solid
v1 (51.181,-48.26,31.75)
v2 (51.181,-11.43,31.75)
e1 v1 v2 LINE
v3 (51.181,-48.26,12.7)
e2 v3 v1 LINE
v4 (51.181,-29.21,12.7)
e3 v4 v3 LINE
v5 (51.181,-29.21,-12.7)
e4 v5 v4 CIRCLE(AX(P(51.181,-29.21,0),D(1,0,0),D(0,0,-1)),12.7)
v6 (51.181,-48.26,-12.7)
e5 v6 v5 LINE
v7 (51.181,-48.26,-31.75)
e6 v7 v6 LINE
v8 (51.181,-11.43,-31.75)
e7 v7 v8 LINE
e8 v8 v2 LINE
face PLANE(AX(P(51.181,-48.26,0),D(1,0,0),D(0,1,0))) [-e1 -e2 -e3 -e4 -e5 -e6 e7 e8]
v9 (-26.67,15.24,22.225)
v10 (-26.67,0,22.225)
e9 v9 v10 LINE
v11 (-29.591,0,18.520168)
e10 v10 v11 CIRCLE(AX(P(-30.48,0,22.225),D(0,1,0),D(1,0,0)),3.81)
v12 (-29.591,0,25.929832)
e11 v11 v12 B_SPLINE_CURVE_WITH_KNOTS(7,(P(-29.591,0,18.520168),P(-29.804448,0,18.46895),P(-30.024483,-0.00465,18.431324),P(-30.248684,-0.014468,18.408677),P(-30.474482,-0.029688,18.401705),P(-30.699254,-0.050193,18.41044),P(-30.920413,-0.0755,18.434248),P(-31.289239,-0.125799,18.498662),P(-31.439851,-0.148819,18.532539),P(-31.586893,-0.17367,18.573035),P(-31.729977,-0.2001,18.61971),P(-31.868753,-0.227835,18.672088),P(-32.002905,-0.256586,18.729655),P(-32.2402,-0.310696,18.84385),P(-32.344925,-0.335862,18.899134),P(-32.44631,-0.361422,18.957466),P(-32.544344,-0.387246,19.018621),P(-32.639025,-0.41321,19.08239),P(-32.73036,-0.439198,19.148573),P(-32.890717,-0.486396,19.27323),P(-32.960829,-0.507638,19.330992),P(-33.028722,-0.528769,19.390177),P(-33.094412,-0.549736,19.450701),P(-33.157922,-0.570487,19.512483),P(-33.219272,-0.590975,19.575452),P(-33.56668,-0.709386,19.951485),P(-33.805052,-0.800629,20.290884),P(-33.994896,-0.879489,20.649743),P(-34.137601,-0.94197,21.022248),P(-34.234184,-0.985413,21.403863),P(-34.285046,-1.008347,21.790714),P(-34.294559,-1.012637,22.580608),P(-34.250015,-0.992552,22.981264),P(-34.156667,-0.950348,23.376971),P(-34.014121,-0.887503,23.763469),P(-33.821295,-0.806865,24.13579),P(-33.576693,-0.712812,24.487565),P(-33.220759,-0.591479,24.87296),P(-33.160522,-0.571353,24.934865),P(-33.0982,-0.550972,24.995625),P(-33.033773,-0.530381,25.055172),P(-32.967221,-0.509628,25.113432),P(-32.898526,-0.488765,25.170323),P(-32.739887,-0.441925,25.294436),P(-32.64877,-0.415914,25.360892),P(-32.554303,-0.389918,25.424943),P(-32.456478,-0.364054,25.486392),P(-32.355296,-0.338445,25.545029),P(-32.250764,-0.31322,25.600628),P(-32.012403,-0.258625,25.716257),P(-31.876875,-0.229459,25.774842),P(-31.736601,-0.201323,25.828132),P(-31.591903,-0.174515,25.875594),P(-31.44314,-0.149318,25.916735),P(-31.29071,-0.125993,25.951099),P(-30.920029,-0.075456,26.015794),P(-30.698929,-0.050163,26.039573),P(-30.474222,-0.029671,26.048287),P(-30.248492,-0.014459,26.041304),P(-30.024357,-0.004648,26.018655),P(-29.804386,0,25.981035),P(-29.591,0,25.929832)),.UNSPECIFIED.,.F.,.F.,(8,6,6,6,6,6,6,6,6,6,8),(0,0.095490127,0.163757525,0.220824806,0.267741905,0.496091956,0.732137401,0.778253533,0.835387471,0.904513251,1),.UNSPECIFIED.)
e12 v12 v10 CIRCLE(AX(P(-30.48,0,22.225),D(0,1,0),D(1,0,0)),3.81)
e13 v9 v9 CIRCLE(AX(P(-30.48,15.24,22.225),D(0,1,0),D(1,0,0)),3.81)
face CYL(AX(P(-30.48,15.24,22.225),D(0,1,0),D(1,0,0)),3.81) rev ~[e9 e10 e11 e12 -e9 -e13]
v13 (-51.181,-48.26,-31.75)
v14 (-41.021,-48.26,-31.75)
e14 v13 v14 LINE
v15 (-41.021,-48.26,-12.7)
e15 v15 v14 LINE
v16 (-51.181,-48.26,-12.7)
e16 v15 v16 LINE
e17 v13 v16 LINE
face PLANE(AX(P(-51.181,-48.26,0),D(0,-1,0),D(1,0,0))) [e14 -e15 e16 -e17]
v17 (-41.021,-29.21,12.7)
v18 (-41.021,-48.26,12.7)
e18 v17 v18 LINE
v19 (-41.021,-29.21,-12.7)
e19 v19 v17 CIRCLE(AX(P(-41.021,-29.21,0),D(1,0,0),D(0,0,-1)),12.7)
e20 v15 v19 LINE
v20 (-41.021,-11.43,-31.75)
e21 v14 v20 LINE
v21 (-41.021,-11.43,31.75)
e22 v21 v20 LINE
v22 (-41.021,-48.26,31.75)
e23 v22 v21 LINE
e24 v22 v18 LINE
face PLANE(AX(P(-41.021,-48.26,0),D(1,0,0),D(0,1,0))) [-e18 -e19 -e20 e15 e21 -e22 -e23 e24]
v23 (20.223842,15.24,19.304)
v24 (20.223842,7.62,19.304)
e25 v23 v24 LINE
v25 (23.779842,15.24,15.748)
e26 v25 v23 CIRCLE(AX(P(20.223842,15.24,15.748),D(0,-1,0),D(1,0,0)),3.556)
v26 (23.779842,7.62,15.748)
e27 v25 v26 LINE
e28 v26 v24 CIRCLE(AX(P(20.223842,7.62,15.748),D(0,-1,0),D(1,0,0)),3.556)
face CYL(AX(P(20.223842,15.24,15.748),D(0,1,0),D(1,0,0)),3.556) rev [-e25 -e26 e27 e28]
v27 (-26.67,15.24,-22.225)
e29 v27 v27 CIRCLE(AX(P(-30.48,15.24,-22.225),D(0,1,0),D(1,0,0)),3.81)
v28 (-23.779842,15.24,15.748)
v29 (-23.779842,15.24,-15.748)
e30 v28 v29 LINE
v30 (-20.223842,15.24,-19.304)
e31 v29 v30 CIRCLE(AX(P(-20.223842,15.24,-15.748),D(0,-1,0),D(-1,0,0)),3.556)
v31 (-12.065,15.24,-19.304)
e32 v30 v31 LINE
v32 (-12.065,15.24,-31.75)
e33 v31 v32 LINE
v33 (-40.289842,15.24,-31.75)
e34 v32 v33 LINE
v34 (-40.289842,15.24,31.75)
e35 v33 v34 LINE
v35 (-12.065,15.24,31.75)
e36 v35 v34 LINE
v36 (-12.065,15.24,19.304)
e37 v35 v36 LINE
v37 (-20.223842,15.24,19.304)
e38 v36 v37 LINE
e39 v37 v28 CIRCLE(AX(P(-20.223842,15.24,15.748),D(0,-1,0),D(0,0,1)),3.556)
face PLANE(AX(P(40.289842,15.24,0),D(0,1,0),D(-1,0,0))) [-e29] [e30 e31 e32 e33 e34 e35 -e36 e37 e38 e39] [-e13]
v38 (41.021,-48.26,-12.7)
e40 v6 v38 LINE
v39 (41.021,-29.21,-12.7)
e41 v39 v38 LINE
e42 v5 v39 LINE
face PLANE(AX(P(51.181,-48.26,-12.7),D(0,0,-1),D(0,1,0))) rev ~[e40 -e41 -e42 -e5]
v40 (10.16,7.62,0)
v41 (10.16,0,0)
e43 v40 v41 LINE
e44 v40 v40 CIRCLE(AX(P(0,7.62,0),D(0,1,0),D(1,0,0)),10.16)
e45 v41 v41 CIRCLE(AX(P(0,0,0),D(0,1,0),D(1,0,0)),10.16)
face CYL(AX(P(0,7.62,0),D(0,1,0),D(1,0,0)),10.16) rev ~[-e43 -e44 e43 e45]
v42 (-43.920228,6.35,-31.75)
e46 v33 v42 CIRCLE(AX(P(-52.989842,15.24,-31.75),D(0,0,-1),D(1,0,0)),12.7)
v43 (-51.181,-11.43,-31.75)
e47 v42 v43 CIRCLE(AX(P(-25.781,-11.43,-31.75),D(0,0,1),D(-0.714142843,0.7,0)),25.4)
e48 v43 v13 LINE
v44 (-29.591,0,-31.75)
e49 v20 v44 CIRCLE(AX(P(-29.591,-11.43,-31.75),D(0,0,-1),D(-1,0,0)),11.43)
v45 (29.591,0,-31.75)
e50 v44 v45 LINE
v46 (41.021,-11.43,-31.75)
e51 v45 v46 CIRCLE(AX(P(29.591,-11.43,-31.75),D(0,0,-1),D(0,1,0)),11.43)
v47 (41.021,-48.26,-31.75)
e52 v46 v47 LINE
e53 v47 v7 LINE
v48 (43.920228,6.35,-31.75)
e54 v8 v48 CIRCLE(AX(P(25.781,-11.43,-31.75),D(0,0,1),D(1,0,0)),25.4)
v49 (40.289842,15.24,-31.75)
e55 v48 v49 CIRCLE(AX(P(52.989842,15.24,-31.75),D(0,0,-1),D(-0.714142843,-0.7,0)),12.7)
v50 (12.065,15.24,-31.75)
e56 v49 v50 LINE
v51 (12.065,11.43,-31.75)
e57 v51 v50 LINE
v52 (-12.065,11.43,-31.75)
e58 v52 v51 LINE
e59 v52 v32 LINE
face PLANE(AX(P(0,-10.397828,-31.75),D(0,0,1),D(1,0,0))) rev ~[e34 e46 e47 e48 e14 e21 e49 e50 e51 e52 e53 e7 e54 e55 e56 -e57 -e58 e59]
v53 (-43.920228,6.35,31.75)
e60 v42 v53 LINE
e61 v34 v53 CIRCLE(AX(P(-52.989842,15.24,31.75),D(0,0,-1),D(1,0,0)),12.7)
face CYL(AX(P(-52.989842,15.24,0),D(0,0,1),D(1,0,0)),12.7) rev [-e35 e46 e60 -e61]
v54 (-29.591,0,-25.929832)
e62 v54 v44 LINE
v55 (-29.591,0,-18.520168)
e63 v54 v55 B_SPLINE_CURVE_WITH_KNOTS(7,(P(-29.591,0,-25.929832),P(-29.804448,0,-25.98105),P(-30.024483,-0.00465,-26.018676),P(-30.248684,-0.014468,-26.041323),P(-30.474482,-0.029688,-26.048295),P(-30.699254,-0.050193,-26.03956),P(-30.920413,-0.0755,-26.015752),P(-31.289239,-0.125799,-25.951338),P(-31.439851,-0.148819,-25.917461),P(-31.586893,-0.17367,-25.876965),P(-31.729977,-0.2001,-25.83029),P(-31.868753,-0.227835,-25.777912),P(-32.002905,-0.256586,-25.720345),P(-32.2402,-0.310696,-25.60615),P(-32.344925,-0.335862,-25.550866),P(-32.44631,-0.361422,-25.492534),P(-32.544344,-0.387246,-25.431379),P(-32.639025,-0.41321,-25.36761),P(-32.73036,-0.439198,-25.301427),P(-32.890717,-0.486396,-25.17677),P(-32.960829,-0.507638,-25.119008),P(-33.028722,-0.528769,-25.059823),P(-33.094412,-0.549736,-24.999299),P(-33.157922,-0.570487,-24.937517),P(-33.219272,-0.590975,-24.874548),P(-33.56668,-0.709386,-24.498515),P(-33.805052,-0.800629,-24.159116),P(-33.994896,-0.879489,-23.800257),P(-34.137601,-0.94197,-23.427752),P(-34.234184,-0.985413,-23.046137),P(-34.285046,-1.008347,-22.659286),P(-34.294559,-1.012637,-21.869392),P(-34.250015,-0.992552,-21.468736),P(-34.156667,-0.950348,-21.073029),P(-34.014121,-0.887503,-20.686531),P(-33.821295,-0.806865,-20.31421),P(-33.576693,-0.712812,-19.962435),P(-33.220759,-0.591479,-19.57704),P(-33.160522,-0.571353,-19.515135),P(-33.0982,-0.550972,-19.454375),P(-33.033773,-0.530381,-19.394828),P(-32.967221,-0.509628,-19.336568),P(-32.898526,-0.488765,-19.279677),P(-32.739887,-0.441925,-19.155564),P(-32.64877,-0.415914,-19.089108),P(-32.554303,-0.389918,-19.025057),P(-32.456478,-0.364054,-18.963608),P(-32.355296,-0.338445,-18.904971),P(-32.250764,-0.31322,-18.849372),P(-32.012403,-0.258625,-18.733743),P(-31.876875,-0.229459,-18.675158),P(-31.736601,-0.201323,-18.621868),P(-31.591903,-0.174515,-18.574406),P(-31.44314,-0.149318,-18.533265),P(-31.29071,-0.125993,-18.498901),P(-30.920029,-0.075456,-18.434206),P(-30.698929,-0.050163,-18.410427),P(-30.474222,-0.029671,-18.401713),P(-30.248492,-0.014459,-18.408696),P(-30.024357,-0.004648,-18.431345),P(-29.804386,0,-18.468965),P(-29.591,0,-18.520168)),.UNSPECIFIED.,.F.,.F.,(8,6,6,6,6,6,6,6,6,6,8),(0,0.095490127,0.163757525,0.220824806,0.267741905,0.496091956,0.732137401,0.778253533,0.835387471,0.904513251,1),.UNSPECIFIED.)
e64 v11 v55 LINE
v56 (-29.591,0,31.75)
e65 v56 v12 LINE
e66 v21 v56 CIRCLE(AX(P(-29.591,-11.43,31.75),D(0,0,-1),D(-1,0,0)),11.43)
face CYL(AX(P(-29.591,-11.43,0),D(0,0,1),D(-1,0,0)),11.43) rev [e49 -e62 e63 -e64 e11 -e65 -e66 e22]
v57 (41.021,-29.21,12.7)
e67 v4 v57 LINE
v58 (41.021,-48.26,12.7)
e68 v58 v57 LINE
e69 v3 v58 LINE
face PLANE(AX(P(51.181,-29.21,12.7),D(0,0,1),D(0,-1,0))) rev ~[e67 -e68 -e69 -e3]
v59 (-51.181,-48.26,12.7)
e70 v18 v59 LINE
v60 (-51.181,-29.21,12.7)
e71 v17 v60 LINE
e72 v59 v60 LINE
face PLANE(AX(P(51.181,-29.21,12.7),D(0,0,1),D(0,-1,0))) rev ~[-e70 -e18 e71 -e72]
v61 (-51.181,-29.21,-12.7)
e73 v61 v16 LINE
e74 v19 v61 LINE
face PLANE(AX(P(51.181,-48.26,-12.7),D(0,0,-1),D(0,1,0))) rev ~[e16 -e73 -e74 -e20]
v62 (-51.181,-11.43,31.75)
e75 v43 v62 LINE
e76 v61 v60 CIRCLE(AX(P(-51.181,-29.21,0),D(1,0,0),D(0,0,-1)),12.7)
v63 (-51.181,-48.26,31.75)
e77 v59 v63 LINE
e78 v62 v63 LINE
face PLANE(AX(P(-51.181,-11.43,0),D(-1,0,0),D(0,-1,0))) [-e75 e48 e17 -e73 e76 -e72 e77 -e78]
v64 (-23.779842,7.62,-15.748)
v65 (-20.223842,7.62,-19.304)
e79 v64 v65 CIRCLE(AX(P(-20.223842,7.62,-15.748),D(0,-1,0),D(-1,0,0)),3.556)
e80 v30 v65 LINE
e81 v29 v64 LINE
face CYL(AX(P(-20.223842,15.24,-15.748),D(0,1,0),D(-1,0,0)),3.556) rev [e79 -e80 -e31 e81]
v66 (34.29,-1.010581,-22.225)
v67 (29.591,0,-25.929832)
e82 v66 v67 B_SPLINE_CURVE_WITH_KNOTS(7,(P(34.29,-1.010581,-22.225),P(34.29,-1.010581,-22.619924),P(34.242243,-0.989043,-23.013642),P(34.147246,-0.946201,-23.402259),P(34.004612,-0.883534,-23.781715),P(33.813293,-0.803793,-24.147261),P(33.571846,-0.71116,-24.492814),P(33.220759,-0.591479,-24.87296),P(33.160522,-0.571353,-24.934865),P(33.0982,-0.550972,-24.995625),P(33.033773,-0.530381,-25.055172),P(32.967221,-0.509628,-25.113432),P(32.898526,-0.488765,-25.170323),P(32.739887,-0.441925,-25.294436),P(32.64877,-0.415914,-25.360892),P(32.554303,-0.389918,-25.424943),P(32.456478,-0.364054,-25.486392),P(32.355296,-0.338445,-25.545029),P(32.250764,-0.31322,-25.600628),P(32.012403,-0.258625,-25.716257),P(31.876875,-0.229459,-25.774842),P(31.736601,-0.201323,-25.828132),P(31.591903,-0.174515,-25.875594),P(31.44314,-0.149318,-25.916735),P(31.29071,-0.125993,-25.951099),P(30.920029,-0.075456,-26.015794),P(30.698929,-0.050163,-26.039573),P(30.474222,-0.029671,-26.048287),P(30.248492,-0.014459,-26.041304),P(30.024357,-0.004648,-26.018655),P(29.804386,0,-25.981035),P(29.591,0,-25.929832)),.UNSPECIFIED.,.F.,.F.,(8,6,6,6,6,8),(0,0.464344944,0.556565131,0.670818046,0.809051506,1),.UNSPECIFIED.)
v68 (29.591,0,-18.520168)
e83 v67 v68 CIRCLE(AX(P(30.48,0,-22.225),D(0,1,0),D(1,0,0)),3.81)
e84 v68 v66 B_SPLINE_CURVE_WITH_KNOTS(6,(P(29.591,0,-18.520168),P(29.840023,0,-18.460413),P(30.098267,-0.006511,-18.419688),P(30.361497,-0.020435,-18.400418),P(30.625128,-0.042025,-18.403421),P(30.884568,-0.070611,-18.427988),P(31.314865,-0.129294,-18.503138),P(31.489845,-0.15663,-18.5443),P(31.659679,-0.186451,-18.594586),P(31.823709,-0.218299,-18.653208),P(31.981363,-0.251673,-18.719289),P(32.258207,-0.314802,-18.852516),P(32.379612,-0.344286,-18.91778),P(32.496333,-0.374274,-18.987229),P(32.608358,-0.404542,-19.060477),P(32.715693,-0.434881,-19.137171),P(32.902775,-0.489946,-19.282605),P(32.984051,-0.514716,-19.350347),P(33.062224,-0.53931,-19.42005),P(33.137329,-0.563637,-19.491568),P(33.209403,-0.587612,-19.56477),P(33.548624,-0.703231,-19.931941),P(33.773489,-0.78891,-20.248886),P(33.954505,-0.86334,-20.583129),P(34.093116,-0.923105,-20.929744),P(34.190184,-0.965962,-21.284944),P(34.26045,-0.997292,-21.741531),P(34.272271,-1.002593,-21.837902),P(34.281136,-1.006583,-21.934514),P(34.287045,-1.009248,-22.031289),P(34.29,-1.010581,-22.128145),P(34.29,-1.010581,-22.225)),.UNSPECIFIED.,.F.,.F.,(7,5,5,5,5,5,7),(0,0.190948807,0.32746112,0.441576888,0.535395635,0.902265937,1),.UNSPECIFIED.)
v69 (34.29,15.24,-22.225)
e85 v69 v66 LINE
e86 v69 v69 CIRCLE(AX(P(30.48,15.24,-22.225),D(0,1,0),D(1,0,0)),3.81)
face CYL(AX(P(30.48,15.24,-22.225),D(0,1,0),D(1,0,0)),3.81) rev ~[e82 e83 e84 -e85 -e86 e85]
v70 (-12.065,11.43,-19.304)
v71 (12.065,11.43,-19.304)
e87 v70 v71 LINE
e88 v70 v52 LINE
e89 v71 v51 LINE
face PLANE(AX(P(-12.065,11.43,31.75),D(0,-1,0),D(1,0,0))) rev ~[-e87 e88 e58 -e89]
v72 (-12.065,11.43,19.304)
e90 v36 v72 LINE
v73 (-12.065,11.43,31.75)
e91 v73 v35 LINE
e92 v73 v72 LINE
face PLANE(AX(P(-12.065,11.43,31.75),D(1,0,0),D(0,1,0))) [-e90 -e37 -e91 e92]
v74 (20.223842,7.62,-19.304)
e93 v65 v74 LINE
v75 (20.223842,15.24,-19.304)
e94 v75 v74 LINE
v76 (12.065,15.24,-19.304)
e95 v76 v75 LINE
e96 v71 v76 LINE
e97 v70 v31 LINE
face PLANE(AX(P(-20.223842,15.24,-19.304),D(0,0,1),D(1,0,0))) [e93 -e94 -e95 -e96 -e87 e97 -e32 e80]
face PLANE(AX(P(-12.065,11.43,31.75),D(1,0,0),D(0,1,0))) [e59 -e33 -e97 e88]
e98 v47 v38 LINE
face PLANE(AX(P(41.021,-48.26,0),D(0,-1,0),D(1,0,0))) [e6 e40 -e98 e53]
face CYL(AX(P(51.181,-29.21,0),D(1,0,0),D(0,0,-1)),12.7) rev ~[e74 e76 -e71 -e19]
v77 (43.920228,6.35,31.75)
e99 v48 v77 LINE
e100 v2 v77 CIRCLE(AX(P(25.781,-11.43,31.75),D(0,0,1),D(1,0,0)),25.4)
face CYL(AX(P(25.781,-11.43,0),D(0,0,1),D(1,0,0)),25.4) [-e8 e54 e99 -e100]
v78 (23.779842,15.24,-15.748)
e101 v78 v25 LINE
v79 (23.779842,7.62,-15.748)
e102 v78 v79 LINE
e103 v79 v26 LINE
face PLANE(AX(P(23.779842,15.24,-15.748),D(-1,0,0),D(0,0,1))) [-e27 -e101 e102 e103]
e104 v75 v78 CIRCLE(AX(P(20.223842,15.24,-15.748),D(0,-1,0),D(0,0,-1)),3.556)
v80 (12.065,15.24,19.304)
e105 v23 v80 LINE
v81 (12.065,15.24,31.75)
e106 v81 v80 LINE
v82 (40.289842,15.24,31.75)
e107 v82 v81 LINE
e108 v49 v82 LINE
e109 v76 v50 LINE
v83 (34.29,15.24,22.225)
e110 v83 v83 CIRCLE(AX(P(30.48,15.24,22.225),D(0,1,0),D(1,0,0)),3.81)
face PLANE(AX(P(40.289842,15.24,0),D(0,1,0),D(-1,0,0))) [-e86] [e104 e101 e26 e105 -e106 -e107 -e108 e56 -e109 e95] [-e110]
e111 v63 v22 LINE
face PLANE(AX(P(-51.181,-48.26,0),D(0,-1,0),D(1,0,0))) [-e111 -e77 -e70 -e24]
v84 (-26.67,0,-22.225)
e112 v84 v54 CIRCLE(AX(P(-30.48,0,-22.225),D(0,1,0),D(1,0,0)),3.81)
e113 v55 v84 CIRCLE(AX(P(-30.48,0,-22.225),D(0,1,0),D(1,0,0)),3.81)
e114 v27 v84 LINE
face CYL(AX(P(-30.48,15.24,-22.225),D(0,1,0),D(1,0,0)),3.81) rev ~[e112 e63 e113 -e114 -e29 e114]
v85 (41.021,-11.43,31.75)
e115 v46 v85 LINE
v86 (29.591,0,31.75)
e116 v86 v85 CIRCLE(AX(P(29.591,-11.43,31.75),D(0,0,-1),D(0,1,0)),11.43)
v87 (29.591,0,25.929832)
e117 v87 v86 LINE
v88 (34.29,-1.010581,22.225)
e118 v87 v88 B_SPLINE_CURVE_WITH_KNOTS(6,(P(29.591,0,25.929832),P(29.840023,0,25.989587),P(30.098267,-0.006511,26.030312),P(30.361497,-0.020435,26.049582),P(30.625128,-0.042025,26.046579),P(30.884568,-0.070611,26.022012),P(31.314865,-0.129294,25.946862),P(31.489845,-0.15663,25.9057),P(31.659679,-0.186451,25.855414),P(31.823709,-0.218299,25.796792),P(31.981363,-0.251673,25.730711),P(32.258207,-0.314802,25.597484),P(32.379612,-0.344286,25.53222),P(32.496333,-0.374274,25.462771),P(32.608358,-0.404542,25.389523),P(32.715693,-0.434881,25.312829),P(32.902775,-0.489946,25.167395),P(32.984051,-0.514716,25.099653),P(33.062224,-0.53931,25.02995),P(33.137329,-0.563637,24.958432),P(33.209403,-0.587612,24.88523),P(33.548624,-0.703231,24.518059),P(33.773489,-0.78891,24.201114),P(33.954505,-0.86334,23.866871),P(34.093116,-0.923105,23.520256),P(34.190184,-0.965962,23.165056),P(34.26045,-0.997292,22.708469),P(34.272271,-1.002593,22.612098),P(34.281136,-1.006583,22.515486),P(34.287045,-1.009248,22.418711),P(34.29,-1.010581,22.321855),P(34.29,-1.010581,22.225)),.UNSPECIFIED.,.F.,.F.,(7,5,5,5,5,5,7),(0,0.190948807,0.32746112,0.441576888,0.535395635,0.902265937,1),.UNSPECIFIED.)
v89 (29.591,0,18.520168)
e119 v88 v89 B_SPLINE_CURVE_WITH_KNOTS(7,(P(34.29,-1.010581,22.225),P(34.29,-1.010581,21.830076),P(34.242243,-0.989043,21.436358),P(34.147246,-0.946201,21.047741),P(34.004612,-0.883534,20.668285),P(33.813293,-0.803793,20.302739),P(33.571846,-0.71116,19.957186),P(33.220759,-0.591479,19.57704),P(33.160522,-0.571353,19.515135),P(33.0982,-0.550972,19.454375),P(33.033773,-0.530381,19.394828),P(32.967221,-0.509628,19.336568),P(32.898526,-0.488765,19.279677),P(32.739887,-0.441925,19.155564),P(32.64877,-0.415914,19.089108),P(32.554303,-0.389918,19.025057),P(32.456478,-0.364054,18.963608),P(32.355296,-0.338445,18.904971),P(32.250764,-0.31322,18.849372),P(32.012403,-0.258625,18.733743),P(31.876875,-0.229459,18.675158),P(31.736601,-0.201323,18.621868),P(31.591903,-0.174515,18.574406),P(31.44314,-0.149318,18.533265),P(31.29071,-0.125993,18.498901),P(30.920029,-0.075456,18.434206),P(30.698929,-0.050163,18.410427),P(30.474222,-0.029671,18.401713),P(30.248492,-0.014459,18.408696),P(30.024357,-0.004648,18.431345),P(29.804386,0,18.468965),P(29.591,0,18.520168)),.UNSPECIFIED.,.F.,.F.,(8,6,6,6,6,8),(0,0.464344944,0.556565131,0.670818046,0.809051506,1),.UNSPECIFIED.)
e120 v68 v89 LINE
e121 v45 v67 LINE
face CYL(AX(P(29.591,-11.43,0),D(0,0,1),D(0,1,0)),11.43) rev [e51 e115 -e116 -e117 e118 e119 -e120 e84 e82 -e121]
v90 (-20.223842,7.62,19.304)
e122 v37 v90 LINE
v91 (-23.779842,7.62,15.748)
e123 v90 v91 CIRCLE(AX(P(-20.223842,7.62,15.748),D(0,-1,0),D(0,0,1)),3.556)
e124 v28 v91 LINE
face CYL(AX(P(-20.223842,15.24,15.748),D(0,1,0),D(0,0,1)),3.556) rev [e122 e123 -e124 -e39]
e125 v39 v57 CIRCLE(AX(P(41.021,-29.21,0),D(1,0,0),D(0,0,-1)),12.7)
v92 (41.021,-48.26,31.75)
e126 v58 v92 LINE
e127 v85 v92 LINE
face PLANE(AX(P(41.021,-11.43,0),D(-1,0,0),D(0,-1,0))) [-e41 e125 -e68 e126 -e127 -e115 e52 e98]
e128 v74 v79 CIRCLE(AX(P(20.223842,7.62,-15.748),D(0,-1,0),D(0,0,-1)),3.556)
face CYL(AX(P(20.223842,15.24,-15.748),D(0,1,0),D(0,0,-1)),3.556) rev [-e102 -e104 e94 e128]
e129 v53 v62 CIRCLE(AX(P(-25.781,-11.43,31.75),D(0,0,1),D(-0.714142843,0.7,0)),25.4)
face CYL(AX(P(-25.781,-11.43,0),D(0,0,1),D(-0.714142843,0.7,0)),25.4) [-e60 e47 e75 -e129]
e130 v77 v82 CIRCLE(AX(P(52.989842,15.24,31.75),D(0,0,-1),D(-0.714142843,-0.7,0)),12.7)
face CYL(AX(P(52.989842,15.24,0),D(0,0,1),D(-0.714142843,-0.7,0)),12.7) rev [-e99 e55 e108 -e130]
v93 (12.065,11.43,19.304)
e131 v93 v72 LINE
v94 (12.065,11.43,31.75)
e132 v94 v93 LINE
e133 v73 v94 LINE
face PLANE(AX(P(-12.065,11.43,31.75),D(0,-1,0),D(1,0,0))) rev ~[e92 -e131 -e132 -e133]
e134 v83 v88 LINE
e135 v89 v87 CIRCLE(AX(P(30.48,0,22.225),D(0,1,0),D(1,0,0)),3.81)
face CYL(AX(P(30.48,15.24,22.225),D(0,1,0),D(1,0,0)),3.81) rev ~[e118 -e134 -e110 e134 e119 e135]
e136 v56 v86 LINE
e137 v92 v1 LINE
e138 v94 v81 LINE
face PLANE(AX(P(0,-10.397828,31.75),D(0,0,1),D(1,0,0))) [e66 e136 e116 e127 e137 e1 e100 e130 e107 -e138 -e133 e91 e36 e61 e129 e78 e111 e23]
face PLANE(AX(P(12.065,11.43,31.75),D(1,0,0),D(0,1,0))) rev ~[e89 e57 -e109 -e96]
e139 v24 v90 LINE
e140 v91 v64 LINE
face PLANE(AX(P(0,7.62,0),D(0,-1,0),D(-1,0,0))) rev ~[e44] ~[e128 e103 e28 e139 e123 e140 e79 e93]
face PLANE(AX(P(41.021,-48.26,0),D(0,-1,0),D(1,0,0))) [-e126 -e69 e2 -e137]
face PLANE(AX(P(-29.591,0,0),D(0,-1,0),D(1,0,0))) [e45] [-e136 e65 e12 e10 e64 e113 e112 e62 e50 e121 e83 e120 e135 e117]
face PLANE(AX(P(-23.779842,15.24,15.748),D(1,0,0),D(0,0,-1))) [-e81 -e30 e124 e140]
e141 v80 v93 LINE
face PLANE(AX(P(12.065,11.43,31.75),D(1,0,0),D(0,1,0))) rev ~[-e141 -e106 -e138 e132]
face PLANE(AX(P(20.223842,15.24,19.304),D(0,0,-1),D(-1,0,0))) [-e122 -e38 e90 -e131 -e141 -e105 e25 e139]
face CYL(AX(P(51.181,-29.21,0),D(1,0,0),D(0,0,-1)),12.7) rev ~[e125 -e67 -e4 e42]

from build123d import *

# Parameters (mm, degrees)
BOSS_EXTRUDE1_DEPTH = 31.75
CUT_EXTRUDE1_DEPTH  = 103.362
CUT_EXTRUDE2_DEPTH  = 7.62
SKETCH5_W           = 24.13
SKETCH5_H           = 3.81
CUT_EXTRUDE3_DEPTH  = 64.5
CUT_EXTRUDE4_REACH  = 57.88
SKETCH6_R           = 10.16
CUT_EXTRUDE5_REACH  = 65.5
SKETCH7_R           = 3.81


with BuildPart() as part:
    # Sketch2 → Boss-Extrude1 (new body, symmetric)
    with BuildSketch(Plane.XY):
        with BuildLine():
            Line((-29.591, 0), (29.591, 0))
            ThreePointArc((29.591, 0), (37.673230509, -3.347769491), (41.021, -11.43))
            Line((41.021, -11.43), (41.021, -48.26))
            Line((41.021, -48.26), (51.181, -48.26))
            Line((51.181, -48.26), (51.181, -11.43))
            ThreePointArc((51.181, -11.43), (49.29585059, -1.827302371), (43.920228208, 6.35))
            ThreePointArc((43.920228208, 6.35), (41.232417018, 10.438651186), (40.289842313, 15.24))
            Line((40.289842313, 15.24), (-40.289842313, 15.24))
            ThreePointArc((-40.289842313, 15.24), (-41.232417018, 10.438651186), (-43.920228208, 6.35))
            ThreePointArc((-43.920228208, 6.35), (-49.29585059, -1.827302371), (-51.181, -11.43))
            Line((-51.181, -11.43), (-51.181, -48.26))
            Line((-51.181, -48.26), (-41.021, -48.26))
            Line((-41.021, -48.26), (-41.021, -11.43))
            ThreePointArc((-41.021, -11.43), (-37.673230509, -3.347769491), (-29.591, 0))
        make_face()
    extrude(amount=BOSS_EXTRUDE1_DEPTH, both=True)

    # Sketch3 → Cut-Extrude1 (cut, through all)
    with BuildSketch(Plane(origin=(51.181, 0, 0), x_dir=(0, 0, -1), z_dir=(1, 0, 0))):
        with BuildLine():
            Line((-12.7, -48.26), (12.7, -48.26))
            Line((12.7, -48.26), (12.7, -29.21))
            ThreePointArc((12.7, -29.21), (0, -16.51), (-12.7, -29.21))
            Line((-12.7, -29.21), (-12.7, -48.26))
        make_face()
    extrude(amount=-CUT_EXTRUDE1_DEPTH, mode=Mode.SUBTRACT)

    # Sketch4 → Cut-Extrude2 (cut)
    with BuildSketch(Plane(origin=(0, 15.24, 0), x_dir=(1, 0, 0), z_dir=(0, 1, 0))):
        with BuildLine():
            Line((-20.223842313, 19.304), (20.223842313, 19.304))
            ThreePointArc((20.223842313, 19.304), (22.738314027, 18.262471714), (23.779842313, 15.748))
            Line((23.779842313, 15.748), (23.779842313, -15.748))
            ThreePointArc((23.779842313, -15.748), (22.738314027, -18.262471714), (20.223842313, -19.304))
            Line((20.223842313, -19.304), (-20.223842313, -19.304))
            ThreePointArc((-20.223842313, -19.304), (-22.738314027, -18.262471714), (-23.779842313, -15.748))
            Line((-23.779842313, -15.748), (-23.779842313, 15.748))
            ThreePointArc((-23.779842313, 15.748), (-22.738314027, 18.262471714), (-20.223842313, 19.304))
        make_face()
    extrude(amount=-CUT_EXTRUDE2_DEPTH, mode=Mode.SUBTRACT)

    # Sketch5 → Cut-Extrude3 (cut, through all)
    with BuildSketch(Plane.XY.offset(31.75)):
        with Locations((0, 13.335)):
            Rectangle(SKETCH5_W, SKETCH5_H)
    extrude(amount=-CUT_EXTRUDE3_DEPTH, mode=Mode.SUBTRACT)

    # Sketch6 → Cut-Extrude4 (cut, up to next)
    with BuildSketch(Plane(origin=(0, 7.62, 0), x_dir=(1, 0, 0), z_dir=(0, 1, 0)), mode=Mode.PRIVATE) as cut_extrude4_sk1:
        Circle(SKETCH6_R)
    cut_extrude4_tool1 = extrude(cut_extrude4_sk1.sketch, amount=-CUT_EXTRUDE4_REACH, mode=Mode.PRIVATE) & part.part
    add(cut_extrude4_tool1.solids().sort_by_distance((0, 7.62, 0))[0], mode=Mode.SUBTRACT)

    # Sketch7 → Cut-Extrude5 (cut, up to next)
    with BuildSketch(Plane(origin=(0, 15.24, 0), x_dir=(1, 0, 0), z_dir=(0, 1, 0)), mode=Mode.PRIVATE) as cut_extrude5_sk1:
        with Locations((-30.48, 22.225)):
            Circle(SKETCH7_R)
    cut_extrude5_tool1 = extrude(cut_extrude5_sk1.sketch, amount=-CUT_EXTRUDE5_REACH, mode=Mode.PRIVATE) & part.part
    add(cut_extrude5_tool1.solids().sort_by_distance((-30.48, 15.24, -22.225))[0], mode=Mode.SUBTRACT)
    # Sketch7 → Cut-Extrude5 (cut, up to next)
    with BuildSketch(Plane(origin=(0, 15.24, 0), x_dir=(1, 0, 0), z_dir=(0, 1, 0)), mode=Mode.PRIVATE) as cut_extrude5_sk2:
        with Locations((30.48, 22.225)):
            Circle(SKETCH7_R)
    cut_extrude5_tool2 = extrude(cut_extrude5_sk2.sketch, amount=-CUT_EXTRUDE5_REACH, mode=Mode.PRIVATE) & part.part
    add(cut_extrude5_tool2.solids().sort_by_distance((30.48, 15.24, -22.225))[0], mode=Mode.SUBTRACT)
    # Sketch7 → Cut-Extrude5 (cut, up to next)
    with BuildSketch(Plane(origin=(0, 15.24, 0), x_dir=(1, 0, 0), z_dir=(0, 1, 0)), mode=Mode.PRIVATE) as cut_extrude5_sk3:
        with Locations((30.48, -22.225)):
            Circle(SKETCH7_R)
    cut_extrude5_tool3 = extrude(cut_extrude5_sk3.sketch, amount=-CUT_EXTRUDE5_REACH, mode=Mode.PRIVATE) & part.part
    add(cut_extrude5_tool3.solids().sort_by_distance((30.48, 15.24, 22.225))[0], mode=Mode.SUBTRACT)
    # Sketch7 → Cut-Extrude5 (cut, up to next)
    with BuildSketch(Plane(origin=(0, 15.24, 0), x_dir=(1, 0, 0), z_dir=(0, 1, 0)), mode=Mode.PRIVATE) as cut_extrude5_sk4:
        with Locations((-30.48, -22.225)):
            Circle(SKETCH7_R)
    cut_extrude5_tool4 = extrude(cut_extrude5_sk4.sketch, amount=-CUT_EXTRUDE5_REACH, mode=Mode.PRIVATE) & part.part
    add(cut_extrude5_tool4.solids().sort_by_distance((-30.48, 15.24, 22.225))[0], mode=Mode.SUBTRACT)


solid = part.part
